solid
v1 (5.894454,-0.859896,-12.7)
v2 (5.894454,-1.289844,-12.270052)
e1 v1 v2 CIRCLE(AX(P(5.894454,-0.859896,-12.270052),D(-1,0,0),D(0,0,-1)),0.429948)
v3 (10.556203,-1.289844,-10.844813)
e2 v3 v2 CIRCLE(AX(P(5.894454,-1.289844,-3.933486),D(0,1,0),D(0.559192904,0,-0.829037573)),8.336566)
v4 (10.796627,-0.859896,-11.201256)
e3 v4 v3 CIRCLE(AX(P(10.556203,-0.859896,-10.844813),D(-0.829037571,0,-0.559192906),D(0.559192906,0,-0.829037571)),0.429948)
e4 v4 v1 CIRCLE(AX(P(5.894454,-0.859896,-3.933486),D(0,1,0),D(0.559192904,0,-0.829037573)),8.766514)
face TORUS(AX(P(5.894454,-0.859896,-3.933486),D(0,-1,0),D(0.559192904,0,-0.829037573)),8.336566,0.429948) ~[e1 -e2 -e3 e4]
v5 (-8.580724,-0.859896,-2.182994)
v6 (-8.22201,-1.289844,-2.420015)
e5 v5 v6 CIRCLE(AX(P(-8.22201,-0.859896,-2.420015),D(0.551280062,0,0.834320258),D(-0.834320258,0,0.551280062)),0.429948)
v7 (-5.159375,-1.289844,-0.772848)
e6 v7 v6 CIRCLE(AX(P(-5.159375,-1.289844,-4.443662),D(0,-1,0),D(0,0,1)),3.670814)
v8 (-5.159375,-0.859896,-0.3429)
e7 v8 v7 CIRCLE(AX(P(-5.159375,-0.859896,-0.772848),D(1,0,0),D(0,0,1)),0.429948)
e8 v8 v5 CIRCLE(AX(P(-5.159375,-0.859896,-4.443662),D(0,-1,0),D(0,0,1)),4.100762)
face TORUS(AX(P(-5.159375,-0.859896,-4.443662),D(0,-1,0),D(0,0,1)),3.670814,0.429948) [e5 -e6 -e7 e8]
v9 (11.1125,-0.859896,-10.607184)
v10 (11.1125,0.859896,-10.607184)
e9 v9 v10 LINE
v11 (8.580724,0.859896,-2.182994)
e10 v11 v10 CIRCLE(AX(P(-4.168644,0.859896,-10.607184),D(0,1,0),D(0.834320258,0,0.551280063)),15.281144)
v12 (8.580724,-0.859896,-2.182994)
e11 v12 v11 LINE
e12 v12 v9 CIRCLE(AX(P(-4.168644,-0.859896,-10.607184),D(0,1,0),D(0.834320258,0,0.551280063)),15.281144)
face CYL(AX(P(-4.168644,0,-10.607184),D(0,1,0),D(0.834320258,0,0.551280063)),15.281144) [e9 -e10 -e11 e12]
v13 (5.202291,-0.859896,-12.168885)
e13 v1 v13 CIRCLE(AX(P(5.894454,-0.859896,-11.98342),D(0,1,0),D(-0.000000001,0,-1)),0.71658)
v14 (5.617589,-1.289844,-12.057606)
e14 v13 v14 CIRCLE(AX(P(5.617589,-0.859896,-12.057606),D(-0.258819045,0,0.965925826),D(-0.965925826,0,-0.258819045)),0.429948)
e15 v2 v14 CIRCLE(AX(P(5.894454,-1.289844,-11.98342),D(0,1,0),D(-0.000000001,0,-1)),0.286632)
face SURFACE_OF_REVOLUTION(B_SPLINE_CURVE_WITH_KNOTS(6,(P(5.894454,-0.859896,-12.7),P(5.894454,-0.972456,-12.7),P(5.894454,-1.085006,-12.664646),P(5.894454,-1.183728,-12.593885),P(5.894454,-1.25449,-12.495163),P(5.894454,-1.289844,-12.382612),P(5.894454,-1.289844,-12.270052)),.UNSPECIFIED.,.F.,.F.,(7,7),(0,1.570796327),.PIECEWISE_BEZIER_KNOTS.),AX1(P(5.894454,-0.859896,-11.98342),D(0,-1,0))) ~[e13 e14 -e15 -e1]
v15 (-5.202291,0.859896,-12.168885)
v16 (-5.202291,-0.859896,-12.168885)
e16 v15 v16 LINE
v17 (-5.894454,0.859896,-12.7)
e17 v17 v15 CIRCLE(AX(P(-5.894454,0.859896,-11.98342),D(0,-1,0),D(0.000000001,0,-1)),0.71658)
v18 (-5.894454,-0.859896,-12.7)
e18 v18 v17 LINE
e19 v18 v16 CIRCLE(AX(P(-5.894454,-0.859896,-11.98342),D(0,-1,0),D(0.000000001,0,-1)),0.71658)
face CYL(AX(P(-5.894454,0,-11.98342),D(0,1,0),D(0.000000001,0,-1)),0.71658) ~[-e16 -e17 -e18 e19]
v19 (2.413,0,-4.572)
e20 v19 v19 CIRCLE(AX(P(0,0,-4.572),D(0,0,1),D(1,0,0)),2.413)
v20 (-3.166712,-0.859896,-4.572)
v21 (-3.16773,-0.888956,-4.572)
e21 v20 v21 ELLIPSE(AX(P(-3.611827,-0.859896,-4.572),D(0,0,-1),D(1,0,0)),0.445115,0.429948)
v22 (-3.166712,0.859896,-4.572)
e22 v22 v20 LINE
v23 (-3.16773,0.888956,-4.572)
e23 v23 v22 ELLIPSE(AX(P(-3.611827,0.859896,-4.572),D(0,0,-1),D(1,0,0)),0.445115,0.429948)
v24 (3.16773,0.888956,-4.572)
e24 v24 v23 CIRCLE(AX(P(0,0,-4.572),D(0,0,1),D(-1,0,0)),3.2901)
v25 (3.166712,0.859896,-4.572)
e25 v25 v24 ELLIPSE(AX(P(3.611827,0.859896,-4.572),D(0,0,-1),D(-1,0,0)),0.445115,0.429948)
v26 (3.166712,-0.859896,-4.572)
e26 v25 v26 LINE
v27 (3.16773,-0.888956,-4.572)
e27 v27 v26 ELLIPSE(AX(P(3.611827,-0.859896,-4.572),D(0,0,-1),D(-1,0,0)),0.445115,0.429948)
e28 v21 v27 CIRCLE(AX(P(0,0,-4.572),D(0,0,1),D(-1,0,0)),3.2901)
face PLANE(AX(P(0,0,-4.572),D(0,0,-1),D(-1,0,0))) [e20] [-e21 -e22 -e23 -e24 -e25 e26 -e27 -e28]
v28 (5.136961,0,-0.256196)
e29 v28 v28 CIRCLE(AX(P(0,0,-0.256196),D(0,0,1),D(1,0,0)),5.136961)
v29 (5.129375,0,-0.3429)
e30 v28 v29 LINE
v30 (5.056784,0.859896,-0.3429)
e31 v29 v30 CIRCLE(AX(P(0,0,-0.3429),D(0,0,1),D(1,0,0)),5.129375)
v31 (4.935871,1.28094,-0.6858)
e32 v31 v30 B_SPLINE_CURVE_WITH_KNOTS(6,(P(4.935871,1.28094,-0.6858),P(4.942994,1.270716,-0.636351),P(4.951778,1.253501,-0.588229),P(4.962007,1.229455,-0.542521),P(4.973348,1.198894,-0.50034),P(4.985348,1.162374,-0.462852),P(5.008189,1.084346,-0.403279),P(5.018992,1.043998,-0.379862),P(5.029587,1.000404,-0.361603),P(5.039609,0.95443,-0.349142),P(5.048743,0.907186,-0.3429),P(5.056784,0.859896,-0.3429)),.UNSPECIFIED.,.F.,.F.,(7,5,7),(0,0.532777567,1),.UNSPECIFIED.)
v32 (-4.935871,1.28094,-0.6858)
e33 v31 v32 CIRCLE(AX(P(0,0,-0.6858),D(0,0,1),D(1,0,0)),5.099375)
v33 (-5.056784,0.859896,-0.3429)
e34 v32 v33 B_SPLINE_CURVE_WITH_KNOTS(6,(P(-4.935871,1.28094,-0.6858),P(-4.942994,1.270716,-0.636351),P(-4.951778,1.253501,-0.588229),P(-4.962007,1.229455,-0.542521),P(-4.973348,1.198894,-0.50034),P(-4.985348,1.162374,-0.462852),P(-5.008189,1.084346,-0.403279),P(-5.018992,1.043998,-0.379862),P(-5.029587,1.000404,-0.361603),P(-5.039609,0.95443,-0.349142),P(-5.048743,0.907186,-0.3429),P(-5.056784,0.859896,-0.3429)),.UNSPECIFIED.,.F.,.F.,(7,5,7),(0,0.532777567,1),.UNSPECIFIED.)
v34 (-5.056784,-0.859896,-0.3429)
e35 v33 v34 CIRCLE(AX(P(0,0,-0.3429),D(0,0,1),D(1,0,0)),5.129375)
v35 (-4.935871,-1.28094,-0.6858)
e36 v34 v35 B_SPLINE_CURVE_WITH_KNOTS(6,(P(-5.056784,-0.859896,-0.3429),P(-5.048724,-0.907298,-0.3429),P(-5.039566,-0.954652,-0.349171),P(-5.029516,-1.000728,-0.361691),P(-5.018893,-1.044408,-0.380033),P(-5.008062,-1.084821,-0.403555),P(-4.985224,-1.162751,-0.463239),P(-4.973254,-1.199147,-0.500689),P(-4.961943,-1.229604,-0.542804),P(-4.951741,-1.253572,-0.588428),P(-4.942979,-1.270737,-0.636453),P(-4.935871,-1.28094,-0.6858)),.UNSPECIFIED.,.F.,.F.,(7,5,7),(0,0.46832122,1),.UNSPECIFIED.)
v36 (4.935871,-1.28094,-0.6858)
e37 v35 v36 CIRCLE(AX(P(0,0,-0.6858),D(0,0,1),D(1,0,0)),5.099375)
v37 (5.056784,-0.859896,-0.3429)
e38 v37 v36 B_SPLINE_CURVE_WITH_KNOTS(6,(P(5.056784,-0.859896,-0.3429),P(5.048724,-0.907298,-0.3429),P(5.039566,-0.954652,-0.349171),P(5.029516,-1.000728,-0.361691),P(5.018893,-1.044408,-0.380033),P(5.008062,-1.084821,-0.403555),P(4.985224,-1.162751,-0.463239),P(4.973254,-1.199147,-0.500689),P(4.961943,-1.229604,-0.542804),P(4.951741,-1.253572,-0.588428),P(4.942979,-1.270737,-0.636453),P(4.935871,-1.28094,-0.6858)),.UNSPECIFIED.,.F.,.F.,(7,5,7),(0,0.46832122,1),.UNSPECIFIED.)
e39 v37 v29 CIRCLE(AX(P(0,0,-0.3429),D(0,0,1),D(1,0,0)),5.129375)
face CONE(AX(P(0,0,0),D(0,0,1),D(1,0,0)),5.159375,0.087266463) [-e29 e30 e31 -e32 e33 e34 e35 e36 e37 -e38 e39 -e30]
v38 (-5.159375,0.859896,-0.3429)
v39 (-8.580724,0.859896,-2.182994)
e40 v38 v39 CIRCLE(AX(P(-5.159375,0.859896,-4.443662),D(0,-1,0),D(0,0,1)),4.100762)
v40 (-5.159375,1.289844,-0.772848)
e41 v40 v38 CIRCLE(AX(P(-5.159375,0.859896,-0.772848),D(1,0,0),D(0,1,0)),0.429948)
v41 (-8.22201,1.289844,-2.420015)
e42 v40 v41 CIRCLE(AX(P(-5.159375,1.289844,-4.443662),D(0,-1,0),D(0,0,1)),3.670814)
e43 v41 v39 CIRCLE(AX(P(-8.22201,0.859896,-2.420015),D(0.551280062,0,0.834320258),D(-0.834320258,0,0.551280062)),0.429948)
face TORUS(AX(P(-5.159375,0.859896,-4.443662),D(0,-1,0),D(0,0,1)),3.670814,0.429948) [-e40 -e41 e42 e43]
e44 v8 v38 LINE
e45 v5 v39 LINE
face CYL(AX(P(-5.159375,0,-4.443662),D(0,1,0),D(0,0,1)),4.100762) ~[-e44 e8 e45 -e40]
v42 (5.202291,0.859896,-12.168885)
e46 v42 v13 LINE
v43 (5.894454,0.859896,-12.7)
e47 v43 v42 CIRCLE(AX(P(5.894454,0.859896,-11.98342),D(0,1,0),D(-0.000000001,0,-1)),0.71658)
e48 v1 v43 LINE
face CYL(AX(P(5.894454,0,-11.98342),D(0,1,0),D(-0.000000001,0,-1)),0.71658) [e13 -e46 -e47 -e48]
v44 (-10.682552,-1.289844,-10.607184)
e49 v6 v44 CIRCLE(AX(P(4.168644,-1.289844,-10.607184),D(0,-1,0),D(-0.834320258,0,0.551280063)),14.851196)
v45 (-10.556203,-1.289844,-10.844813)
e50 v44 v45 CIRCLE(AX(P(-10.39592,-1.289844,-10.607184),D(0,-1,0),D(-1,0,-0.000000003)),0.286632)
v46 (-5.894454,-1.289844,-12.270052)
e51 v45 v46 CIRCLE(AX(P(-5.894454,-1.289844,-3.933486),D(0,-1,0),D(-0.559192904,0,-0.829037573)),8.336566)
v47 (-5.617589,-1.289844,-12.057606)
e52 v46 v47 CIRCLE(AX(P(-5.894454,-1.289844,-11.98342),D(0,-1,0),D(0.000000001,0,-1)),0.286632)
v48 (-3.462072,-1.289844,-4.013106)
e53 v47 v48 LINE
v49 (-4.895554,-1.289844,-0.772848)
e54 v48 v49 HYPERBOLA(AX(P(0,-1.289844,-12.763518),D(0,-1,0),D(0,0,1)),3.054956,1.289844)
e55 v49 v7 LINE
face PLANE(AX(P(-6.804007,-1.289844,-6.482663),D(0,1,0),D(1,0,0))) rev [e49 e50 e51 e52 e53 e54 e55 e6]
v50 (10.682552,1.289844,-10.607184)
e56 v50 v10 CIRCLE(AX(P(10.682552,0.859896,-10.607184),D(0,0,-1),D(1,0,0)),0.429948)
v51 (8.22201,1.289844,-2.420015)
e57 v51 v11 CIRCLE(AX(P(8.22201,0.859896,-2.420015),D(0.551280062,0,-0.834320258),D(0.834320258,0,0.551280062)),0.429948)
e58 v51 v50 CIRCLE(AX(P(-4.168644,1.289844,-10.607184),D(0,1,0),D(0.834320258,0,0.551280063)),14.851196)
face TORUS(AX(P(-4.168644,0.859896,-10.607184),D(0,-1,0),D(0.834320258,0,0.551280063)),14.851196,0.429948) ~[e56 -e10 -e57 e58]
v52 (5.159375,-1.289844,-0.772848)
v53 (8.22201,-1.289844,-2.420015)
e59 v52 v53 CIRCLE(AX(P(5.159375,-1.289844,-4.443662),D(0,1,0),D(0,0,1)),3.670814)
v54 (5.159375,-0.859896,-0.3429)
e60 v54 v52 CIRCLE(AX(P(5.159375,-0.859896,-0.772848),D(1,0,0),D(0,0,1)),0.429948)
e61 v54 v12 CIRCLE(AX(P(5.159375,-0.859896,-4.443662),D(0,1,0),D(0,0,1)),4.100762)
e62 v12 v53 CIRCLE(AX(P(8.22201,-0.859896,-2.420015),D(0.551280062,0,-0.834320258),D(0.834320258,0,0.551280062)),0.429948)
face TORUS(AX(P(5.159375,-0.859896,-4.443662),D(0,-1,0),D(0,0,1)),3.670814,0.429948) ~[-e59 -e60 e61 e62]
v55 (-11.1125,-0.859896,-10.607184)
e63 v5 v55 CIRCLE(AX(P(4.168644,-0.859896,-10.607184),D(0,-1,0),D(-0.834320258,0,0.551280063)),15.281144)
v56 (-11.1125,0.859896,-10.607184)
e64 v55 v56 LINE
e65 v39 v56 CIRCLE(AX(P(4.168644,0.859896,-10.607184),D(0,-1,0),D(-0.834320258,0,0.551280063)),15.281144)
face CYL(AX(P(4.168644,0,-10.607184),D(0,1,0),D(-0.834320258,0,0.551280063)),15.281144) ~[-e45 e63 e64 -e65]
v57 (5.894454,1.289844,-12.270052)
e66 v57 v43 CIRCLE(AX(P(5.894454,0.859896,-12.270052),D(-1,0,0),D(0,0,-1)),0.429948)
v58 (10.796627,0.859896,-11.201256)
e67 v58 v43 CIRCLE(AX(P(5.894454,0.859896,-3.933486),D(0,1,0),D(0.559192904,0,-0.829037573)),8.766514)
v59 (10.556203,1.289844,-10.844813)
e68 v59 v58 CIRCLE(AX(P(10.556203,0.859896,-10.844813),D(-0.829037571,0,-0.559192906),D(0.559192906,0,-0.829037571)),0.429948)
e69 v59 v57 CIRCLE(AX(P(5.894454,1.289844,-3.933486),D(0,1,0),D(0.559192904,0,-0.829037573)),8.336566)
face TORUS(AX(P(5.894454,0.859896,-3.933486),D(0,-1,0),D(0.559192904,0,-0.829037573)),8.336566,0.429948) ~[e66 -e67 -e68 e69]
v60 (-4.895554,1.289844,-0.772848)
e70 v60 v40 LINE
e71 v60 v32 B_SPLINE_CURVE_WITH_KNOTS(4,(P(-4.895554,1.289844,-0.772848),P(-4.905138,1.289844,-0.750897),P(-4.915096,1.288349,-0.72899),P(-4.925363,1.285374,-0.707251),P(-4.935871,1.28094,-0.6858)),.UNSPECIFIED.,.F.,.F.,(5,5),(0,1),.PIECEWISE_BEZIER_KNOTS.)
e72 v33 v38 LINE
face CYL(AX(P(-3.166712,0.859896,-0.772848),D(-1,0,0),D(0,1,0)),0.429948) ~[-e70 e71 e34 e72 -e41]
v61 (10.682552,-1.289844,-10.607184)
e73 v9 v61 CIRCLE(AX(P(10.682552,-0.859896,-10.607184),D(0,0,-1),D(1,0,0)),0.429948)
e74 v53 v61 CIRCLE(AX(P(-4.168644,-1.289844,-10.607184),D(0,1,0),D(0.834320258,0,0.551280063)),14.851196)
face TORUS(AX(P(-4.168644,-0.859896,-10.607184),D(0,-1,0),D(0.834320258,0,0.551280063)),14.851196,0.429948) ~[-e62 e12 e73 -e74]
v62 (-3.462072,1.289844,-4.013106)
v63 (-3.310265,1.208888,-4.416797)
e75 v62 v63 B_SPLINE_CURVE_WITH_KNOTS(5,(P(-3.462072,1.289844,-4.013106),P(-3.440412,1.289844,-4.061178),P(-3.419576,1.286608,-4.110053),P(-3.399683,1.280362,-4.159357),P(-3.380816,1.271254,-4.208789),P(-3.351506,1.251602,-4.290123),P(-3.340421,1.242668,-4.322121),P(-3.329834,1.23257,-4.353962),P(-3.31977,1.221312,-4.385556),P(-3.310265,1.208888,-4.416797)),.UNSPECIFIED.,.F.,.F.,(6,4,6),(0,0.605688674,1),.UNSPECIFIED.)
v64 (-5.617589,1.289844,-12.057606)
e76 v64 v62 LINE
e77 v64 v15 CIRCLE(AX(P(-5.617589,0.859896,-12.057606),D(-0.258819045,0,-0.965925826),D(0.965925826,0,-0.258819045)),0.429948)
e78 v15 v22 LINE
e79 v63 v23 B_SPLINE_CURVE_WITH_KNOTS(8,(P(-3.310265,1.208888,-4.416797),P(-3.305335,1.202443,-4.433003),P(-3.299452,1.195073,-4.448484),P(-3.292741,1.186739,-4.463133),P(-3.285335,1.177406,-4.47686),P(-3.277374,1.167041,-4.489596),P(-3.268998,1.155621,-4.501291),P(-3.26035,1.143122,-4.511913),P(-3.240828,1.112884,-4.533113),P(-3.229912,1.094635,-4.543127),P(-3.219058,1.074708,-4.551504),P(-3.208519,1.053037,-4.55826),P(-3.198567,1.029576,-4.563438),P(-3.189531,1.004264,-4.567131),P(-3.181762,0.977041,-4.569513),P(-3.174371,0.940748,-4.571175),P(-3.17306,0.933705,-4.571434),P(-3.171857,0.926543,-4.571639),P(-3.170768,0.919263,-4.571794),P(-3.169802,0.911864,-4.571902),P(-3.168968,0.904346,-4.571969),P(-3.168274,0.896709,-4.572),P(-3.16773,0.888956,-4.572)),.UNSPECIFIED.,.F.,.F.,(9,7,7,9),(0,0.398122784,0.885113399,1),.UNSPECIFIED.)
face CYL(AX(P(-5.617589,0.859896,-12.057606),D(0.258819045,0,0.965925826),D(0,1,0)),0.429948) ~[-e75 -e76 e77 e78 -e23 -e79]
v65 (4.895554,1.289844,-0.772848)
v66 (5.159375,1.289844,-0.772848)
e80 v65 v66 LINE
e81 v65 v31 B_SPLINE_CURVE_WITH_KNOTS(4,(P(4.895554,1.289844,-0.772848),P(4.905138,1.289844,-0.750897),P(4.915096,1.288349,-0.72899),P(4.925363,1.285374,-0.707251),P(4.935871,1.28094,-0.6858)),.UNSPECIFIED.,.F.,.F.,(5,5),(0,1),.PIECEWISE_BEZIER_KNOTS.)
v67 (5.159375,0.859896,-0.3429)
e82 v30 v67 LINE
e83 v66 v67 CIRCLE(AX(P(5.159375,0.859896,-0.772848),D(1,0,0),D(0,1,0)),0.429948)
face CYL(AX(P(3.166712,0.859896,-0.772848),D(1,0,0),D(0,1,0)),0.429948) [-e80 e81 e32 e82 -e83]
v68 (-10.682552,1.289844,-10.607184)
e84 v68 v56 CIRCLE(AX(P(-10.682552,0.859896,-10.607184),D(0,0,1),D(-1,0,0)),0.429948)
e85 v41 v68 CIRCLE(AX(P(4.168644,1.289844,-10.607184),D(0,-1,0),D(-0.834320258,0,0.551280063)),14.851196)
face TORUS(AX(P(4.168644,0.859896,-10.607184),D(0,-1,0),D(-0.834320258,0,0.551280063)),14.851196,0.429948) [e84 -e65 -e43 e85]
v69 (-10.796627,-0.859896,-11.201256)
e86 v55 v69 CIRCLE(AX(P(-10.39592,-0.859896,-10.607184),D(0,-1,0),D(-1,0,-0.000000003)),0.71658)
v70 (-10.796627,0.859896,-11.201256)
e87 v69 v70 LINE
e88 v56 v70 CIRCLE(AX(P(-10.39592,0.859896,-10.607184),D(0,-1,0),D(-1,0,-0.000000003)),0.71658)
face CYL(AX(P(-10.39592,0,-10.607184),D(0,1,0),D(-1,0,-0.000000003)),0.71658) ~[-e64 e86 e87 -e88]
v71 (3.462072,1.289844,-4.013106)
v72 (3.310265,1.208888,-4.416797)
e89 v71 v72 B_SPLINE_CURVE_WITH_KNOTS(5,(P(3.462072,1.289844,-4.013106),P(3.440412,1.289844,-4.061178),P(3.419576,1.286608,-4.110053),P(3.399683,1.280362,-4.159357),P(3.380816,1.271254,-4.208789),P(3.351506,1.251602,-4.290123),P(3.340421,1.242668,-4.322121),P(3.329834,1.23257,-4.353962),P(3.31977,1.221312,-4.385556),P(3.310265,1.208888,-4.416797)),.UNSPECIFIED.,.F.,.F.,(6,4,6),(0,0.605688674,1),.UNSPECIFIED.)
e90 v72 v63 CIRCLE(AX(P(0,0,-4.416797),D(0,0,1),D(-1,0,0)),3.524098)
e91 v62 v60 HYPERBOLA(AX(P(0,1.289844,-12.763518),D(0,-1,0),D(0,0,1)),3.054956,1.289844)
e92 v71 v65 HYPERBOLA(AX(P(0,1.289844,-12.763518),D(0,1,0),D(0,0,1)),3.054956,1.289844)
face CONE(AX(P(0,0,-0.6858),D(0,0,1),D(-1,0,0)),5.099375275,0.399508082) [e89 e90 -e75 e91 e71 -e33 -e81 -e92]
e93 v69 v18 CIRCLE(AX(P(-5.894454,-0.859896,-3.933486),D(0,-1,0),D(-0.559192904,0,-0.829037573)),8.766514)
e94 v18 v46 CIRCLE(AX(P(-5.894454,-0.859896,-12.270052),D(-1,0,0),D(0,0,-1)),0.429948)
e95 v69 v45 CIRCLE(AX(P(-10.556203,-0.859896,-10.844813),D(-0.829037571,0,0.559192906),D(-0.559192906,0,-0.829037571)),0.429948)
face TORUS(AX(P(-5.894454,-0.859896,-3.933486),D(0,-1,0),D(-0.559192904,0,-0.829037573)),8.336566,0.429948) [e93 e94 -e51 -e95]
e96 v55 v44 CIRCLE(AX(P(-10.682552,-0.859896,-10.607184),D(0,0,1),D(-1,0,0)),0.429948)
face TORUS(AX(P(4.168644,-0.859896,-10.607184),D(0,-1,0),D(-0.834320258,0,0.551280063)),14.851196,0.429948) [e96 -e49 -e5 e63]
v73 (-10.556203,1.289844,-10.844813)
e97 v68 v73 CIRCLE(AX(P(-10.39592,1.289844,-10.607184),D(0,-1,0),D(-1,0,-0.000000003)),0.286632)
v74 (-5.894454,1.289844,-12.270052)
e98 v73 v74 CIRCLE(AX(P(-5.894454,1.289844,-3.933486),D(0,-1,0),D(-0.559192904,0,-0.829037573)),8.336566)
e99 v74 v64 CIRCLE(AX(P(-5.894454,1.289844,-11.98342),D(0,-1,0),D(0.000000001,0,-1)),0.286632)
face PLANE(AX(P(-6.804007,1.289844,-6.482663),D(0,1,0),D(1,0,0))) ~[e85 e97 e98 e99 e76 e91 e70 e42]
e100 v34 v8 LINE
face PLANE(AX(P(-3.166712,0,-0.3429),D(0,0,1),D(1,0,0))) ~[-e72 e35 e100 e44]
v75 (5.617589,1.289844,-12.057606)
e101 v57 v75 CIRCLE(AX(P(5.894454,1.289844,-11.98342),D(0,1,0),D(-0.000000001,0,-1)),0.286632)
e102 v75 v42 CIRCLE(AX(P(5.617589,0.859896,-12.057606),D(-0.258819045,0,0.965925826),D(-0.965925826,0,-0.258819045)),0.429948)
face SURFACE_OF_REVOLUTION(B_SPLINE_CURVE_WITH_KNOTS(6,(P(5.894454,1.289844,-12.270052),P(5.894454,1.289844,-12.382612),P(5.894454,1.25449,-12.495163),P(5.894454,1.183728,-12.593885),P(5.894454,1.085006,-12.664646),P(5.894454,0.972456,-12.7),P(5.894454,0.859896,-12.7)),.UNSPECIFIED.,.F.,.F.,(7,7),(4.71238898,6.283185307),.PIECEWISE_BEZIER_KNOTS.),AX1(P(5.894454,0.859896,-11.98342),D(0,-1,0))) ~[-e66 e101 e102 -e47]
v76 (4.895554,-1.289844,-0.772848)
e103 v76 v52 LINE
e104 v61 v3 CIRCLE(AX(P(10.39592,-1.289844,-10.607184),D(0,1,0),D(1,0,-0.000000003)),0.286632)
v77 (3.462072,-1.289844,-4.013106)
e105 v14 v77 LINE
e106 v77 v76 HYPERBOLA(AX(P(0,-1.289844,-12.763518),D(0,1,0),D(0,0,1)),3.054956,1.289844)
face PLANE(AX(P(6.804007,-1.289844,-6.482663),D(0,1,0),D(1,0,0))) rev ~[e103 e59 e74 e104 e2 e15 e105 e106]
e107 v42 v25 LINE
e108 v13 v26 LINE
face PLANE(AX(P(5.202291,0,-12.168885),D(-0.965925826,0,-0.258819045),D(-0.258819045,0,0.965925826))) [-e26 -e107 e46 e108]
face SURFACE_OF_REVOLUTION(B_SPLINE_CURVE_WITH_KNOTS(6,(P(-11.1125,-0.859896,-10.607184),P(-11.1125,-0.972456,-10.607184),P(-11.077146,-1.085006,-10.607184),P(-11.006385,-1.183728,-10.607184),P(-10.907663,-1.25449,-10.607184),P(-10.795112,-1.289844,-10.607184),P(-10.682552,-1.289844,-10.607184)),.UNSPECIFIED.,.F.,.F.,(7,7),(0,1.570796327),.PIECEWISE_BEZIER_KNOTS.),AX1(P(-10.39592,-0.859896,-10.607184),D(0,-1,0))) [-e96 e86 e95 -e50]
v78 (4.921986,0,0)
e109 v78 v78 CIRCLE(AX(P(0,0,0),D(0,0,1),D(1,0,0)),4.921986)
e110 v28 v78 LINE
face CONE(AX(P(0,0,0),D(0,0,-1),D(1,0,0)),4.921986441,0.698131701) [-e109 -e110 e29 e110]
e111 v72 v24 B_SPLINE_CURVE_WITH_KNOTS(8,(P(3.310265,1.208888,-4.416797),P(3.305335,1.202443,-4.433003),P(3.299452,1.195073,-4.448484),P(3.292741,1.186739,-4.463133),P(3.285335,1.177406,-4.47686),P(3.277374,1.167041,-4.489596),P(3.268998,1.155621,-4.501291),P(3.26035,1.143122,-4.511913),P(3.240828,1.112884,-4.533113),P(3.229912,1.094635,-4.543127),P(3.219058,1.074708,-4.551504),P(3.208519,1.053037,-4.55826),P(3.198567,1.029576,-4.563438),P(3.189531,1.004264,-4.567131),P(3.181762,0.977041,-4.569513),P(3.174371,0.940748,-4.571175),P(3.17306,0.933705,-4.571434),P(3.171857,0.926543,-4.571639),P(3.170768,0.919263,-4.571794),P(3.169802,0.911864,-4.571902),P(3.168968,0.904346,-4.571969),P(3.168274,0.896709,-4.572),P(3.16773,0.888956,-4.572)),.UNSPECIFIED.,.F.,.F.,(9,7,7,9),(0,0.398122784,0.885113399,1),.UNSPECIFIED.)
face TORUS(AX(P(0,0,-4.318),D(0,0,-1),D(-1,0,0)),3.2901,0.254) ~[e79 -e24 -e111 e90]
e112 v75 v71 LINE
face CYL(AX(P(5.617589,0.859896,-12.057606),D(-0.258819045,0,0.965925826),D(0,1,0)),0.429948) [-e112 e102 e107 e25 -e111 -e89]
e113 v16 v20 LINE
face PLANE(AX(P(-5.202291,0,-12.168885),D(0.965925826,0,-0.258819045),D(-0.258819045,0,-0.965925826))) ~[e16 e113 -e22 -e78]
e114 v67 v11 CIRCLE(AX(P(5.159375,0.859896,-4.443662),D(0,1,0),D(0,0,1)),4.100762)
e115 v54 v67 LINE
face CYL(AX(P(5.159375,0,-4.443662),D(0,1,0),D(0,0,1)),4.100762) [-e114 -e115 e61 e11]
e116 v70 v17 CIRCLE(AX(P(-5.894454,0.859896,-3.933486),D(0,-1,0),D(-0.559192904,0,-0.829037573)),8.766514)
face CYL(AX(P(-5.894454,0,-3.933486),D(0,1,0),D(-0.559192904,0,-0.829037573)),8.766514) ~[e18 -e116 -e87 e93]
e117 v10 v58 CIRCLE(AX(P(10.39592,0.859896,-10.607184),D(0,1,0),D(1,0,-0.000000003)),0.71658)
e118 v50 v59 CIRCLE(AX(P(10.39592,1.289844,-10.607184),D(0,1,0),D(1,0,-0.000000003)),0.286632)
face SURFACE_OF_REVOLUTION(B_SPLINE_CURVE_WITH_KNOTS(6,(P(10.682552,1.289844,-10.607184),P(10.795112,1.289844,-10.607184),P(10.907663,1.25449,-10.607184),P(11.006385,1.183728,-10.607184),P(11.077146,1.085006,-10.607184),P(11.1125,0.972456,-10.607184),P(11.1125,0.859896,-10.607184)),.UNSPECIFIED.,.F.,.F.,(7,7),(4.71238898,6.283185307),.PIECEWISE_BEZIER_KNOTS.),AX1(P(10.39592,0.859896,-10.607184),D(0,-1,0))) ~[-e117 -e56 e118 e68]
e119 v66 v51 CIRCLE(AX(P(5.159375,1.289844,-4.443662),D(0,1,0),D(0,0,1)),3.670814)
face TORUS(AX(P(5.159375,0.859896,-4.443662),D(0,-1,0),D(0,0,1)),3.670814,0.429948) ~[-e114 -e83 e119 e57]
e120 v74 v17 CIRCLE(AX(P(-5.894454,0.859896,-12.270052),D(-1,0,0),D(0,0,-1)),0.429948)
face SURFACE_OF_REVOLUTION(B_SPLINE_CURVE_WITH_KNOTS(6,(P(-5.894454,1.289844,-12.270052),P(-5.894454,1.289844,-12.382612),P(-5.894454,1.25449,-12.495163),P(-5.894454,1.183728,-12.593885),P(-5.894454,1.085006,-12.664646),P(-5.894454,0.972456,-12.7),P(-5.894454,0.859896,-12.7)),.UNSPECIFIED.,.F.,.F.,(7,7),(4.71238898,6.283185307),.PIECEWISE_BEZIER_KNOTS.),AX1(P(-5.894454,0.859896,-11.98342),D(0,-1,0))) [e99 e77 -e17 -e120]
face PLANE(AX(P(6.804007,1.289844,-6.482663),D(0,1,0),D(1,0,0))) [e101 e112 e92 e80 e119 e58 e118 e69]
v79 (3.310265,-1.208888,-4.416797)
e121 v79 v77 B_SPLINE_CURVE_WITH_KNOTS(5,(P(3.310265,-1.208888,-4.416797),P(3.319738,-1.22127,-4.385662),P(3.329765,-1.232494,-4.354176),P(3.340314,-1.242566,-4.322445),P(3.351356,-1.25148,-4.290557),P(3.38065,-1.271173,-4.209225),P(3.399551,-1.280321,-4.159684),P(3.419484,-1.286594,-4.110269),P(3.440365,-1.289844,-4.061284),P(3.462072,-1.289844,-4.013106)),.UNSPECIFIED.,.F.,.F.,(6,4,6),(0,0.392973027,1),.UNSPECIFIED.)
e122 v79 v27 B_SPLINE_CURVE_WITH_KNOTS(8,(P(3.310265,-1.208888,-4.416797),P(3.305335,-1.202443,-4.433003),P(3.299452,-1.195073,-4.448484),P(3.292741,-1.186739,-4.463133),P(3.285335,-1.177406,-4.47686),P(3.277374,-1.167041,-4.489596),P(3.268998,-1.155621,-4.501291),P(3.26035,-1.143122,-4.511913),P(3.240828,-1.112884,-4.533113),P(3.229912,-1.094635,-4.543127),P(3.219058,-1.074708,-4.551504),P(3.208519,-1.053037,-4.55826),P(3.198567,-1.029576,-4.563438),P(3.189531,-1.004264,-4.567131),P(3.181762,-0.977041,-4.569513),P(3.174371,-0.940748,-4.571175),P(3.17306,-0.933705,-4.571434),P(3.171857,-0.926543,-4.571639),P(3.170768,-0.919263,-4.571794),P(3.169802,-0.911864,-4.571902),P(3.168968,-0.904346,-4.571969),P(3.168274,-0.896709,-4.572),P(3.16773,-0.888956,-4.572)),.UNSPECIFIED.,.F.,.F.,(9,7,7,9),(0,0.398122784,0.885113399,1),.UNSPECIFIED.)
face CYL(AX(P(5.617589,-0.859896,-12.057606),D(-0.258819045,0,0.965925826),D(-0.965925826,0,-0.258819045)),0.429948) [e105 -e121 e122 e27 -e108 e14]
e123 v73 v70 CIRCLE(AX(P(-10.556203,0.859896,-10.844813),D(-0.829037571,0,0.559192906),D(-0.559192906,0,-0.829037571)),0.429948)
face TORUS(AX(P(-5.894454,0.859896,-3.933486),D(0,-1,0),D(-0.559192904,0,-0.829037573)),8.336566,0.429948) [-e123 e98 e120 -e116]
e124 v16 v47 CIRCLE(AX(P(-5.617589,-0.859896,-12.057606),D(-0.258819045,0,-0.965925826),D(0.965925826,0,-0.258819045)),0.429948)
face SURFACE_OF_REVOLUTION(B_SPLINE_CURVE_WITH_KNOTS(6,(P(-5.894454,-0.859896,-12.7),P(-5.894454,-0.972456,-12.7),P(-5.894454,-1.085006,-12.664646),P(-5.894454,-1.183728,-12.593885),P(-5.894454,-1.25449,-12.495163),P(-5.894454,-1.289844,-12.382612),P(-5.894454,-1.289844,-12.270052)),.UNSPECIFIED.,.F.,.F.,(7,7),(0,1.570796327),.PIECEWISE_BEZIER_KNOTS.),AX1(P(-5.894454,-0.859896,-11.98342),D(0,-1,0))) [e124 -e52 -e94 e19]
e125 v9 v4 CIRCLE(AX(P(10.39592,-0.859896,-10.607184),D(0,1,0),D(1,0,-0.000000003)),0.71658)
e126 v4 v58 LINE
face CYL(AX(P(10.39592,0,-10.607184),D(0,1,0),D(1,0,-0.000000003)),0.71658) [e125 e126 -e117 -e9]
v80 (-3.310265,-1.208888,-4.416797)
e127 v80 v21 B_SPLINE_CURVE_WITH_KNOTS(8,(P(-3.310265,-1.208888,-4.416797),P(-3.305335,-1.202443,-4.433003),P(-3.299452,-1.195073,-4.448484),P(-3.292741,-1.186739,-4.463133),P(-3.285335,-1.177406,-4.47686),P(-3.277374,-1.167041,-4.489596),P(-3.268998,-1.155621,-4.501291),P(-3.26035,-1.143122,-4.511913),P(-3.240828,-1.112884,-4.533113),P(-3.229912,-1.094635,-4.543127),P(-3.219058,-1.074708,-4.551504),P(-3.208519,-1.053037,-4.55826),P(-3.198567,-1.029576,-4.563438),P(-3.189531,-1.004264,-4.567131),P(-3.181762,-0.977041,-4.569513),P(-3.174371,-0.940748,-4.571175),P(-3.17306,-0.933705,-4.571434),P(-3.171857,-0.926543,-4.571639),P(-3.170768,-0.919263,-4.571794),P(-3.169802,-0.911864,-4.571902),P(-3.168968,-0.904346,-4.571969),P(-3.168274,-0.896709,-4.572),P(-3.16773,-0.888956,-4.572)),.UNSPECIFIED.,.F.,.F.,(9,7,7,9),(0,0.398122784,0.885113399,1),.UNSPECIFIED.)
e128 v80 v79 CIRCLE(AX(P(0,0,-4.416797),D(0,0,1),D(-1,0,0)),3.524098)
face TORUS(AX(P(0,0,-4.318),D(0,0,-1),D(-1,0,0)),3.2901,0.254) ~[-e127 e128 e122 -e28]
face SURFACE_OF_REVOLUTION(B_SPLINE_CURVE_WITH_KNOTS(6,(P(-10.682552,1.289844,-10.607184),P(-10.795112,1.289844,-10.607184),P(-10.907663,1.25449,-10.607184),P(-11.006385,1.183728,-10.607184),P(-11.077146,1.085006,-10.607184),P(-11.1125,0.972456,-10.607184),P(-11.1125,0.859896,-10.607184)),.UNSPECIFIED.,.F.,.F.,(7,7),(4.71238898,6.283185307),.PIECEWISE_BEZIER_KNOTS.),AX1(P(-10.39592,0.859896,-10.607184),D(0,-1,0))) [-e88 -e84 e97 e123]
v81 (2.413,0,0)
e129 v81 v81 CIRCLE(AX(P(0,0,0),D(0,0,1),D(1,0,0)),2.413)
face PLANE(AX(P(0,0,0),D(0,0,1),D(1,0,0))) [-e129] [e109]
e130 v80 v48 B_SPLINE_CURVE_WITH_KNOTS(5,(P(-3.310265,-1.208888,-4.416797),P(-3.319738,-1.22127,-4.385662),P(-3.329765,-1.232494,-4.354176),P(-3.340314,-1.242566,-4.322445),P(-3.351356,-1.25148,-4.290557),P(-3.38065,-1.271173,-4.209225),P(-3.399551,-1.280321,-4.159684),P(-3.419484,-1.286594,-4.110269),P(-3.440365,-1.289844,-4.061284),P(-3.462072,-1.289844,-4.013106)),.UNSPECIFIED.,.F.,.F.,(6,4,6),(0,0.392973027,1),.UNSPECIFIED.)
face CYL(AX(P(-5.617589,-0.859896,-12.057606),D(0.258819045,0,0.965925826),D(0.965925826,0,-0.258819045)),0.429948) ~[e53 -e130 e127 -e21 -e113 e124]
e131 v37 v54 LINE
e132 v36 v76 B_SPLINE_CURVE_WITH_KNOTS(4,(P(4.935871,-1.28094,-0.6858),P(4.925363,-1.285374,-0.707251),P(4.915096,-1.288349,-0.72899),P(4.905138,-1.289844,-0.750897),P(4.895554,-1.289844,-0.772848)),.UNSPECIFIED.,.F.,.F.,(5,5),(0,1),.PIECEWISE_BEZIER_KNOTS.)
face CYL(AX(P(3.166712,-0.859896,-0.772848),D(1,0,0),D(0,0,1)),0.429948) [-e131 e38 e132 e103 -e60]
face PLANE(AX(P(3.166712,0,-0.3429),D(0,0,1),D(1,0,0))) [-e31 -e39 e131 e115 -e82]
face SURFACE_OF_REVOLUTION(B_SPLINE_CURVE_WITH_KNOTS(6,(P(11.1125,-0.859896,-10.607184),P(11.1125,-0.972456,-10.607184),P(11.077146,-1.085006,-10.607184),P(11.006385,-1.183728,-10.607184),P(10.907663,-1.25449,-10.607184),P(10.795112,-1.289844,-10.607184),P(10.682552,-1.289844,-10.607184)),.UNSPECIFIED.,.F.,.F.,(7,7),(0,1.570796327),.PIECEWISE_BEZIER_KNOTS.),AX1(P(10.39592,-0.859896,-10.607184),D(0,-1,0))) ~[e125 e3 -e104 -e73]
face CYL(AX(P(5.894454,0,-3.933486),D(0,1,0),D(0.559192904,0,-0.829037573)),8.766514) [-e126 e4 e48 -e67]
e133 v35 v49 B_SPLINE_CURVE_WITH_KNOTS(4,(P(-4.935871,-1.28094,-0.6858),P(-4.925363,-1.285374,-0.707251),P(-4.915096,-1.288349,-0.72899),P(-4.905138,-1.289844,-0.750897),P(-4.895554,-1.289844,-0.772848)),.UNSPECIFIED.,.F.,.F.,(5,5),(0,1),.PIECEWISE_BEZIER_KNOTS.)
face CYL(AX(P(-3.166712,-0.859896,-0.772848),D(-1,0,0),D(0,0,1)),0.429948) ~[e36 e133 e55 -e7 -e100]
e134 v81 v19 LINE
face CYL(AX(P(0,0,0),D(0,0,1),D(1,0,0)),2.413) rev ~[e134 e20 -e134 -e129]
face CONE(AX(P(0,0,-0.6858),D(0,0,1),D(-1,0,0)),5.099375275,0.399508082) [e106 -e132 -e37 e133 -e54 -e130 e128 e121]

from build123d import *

# Parameters (mm, degrees)
EXTRUDE2_DEPTH     = 1.28984375
SKETCH3_R          = 5.159375
EXTRUDE1_DEPTH     = 0.6858
EXTRUDE1_DRAFT     = -5
SKETCH15_R         = 5.099375275
EXTRUDE3_DEPTH     = 3.8862
EXTRUDE3_TAPER     = 22.89012698
FILLET3_R          = 0.254
SKETCH4_R          = 2.413
CUT_EXTRUDE1_DEPTH = 18.646438922
CHAMFER1_SIZE      = 0.257175
CHAMFER1_SIZE2     = 0.237388559
FILLET4_R          = 0.429947917


with BuildPart() as part:
    # Sketch13 → Extrude2 (new, symmetric)
    with BuildSketch(Plane(origin=(0, 0, 0), x_dir=(1, 0, 0), z_dir=(0, 1, 0))):
        with BuildLine():
            Line((3.166712045, 0.3429), (5.159375, 0.3429))
            ThreePointArc((5.159375, 0.3429), (7.101768744, 0.832103373), (8.580723973, 2.182993757))
            ThreePointArc((8.580723973, 2.182993757), (10.465874951, 6.208977734), (11.1125, 10.607183874))
            ThreePointArc((11.1125, 10.607183874), (11.028622602, 10.943597741), (10.796626512, 11.201255503))
            ThreePointArc((10.796626512, 11.201255503), (8.457534763, 12.316945036), (5.894454148, 12.7))
            ThreePointArc((5.894454148, 12.7), (5.458227968, 12.551921165), (5.202291154, 12.168884654))
            Line((5.202291154, 12.168884654), (3.166712045, 4.572))
            Line((3.166712045, 4.572), (3.166712045, 0.3429))
        make_face()
    extrude(amount=EXTRUDE2_DEPTH, both=True)

    # Fillet4
    fillet4_edges = [part.edges().sort_by_distance(p)[0] for p in [
        (7.101768744, 1.28984375, -0.832103373),
        (4.163043523, -1.28984375, -0.3429),
        (10.465874951, 1.28984375, -6.208977734),
        (11.028622602, 1.28984375, -10.943597741),
        (8.457534763, 1.28984375, -12.316945036),
        (5.458227968, 1.28984375, -12.551921165),
        (4.1845016, 1.28984375, -8.370442327),
        (4.163043523, 1.28984375, -0.3429),
        (4.1845016, -1.28984375, -8.370442327),
        (5.458227968, -1.28984375, -12.551921165),
        (8.457534763, -1.28984375, -12.316945036),
        (11.028622602, -1.28984375, -10.943597741),
        (10.465874951, -1.28984375, -6.208977734),
        (7.101768744, -1.28984375, -0.832103373),
    ]]
    fillet(fillet4_edges, radius=FILLET4_R)


with BuildPart() as body_2:
    # Sketch3 → Extrude1 (with draft: the straight prism first)
    with BuildSketch(Plane.XY):
        Circle(SKETCH3_R)
    extrude(amount=-EXTRUDE1_DEPTH)
    # Extrude1: the draft: its side faces are tilted about the plane it starts from
    extrude1_sides = [body_2.faces().sort_by_distance(p)[0] for p in [
        (-5.159375, 0, -0.3429),
    ]]
    draft(extrude1_sides, Plane.XY, EXTRUDE1_DRAFT)

    # Sketch15 → Extrude3 (add)
    with BuildSketch(Plane(origin=(0, 0, -0.6858), x_dir=(-1, 0, 0), z_dir=(0, 0, -1))):
        Circle(SKETCH15_R)
    extrude(amount=EXTRUDE3_DEPTH, taper=EXTRUDE3_TAPER)

    # Fillet3
    fillet3_edges = [body_2.edges().sort_by_distance(p)[0] for p in [
        (3.458569214, 0, -4.572),
    ]]
    fillet(fillet3_edges, radius=FILLET3_R)

    # Sketch4 → Cut-Extrude1 (cut, through all)
    with BuildSketch(Plane.XY):
        Circle(SKETCH4_R)
    extrude(amount=-CUT_EXTRUDE1_DEPTH, mode=Mode.SUBTRACT)

    # Chamfer1
    chamfer1_edges = [body_2.edges().sort_by_distance(p)[0] for p in [
        (-5.159375, 0, 0),
    ]]
    chamfer1_side = [body_2.faces().sort_by_distance(p)[0] for p in [
        (-5.129375137, 0, -0.3429),
    ]]
    chamfer(chamfer1_edges, length=CHAMFER1_SIZE, length2=CHAMFER1_SIZE2, reference=chamfer1_side[0])


with BuildPart() as body_3:
    # Mirror6: mirrored copy
    add(part.part.mirror(Plane(origin=(0, 0, 0), x_dir=(0, 0, 1), z_dir=(1, 0, 0))))

    # Combine2: union part, body 2
    add(part.part)
    add(body_2.part)


solid = body_3.part
